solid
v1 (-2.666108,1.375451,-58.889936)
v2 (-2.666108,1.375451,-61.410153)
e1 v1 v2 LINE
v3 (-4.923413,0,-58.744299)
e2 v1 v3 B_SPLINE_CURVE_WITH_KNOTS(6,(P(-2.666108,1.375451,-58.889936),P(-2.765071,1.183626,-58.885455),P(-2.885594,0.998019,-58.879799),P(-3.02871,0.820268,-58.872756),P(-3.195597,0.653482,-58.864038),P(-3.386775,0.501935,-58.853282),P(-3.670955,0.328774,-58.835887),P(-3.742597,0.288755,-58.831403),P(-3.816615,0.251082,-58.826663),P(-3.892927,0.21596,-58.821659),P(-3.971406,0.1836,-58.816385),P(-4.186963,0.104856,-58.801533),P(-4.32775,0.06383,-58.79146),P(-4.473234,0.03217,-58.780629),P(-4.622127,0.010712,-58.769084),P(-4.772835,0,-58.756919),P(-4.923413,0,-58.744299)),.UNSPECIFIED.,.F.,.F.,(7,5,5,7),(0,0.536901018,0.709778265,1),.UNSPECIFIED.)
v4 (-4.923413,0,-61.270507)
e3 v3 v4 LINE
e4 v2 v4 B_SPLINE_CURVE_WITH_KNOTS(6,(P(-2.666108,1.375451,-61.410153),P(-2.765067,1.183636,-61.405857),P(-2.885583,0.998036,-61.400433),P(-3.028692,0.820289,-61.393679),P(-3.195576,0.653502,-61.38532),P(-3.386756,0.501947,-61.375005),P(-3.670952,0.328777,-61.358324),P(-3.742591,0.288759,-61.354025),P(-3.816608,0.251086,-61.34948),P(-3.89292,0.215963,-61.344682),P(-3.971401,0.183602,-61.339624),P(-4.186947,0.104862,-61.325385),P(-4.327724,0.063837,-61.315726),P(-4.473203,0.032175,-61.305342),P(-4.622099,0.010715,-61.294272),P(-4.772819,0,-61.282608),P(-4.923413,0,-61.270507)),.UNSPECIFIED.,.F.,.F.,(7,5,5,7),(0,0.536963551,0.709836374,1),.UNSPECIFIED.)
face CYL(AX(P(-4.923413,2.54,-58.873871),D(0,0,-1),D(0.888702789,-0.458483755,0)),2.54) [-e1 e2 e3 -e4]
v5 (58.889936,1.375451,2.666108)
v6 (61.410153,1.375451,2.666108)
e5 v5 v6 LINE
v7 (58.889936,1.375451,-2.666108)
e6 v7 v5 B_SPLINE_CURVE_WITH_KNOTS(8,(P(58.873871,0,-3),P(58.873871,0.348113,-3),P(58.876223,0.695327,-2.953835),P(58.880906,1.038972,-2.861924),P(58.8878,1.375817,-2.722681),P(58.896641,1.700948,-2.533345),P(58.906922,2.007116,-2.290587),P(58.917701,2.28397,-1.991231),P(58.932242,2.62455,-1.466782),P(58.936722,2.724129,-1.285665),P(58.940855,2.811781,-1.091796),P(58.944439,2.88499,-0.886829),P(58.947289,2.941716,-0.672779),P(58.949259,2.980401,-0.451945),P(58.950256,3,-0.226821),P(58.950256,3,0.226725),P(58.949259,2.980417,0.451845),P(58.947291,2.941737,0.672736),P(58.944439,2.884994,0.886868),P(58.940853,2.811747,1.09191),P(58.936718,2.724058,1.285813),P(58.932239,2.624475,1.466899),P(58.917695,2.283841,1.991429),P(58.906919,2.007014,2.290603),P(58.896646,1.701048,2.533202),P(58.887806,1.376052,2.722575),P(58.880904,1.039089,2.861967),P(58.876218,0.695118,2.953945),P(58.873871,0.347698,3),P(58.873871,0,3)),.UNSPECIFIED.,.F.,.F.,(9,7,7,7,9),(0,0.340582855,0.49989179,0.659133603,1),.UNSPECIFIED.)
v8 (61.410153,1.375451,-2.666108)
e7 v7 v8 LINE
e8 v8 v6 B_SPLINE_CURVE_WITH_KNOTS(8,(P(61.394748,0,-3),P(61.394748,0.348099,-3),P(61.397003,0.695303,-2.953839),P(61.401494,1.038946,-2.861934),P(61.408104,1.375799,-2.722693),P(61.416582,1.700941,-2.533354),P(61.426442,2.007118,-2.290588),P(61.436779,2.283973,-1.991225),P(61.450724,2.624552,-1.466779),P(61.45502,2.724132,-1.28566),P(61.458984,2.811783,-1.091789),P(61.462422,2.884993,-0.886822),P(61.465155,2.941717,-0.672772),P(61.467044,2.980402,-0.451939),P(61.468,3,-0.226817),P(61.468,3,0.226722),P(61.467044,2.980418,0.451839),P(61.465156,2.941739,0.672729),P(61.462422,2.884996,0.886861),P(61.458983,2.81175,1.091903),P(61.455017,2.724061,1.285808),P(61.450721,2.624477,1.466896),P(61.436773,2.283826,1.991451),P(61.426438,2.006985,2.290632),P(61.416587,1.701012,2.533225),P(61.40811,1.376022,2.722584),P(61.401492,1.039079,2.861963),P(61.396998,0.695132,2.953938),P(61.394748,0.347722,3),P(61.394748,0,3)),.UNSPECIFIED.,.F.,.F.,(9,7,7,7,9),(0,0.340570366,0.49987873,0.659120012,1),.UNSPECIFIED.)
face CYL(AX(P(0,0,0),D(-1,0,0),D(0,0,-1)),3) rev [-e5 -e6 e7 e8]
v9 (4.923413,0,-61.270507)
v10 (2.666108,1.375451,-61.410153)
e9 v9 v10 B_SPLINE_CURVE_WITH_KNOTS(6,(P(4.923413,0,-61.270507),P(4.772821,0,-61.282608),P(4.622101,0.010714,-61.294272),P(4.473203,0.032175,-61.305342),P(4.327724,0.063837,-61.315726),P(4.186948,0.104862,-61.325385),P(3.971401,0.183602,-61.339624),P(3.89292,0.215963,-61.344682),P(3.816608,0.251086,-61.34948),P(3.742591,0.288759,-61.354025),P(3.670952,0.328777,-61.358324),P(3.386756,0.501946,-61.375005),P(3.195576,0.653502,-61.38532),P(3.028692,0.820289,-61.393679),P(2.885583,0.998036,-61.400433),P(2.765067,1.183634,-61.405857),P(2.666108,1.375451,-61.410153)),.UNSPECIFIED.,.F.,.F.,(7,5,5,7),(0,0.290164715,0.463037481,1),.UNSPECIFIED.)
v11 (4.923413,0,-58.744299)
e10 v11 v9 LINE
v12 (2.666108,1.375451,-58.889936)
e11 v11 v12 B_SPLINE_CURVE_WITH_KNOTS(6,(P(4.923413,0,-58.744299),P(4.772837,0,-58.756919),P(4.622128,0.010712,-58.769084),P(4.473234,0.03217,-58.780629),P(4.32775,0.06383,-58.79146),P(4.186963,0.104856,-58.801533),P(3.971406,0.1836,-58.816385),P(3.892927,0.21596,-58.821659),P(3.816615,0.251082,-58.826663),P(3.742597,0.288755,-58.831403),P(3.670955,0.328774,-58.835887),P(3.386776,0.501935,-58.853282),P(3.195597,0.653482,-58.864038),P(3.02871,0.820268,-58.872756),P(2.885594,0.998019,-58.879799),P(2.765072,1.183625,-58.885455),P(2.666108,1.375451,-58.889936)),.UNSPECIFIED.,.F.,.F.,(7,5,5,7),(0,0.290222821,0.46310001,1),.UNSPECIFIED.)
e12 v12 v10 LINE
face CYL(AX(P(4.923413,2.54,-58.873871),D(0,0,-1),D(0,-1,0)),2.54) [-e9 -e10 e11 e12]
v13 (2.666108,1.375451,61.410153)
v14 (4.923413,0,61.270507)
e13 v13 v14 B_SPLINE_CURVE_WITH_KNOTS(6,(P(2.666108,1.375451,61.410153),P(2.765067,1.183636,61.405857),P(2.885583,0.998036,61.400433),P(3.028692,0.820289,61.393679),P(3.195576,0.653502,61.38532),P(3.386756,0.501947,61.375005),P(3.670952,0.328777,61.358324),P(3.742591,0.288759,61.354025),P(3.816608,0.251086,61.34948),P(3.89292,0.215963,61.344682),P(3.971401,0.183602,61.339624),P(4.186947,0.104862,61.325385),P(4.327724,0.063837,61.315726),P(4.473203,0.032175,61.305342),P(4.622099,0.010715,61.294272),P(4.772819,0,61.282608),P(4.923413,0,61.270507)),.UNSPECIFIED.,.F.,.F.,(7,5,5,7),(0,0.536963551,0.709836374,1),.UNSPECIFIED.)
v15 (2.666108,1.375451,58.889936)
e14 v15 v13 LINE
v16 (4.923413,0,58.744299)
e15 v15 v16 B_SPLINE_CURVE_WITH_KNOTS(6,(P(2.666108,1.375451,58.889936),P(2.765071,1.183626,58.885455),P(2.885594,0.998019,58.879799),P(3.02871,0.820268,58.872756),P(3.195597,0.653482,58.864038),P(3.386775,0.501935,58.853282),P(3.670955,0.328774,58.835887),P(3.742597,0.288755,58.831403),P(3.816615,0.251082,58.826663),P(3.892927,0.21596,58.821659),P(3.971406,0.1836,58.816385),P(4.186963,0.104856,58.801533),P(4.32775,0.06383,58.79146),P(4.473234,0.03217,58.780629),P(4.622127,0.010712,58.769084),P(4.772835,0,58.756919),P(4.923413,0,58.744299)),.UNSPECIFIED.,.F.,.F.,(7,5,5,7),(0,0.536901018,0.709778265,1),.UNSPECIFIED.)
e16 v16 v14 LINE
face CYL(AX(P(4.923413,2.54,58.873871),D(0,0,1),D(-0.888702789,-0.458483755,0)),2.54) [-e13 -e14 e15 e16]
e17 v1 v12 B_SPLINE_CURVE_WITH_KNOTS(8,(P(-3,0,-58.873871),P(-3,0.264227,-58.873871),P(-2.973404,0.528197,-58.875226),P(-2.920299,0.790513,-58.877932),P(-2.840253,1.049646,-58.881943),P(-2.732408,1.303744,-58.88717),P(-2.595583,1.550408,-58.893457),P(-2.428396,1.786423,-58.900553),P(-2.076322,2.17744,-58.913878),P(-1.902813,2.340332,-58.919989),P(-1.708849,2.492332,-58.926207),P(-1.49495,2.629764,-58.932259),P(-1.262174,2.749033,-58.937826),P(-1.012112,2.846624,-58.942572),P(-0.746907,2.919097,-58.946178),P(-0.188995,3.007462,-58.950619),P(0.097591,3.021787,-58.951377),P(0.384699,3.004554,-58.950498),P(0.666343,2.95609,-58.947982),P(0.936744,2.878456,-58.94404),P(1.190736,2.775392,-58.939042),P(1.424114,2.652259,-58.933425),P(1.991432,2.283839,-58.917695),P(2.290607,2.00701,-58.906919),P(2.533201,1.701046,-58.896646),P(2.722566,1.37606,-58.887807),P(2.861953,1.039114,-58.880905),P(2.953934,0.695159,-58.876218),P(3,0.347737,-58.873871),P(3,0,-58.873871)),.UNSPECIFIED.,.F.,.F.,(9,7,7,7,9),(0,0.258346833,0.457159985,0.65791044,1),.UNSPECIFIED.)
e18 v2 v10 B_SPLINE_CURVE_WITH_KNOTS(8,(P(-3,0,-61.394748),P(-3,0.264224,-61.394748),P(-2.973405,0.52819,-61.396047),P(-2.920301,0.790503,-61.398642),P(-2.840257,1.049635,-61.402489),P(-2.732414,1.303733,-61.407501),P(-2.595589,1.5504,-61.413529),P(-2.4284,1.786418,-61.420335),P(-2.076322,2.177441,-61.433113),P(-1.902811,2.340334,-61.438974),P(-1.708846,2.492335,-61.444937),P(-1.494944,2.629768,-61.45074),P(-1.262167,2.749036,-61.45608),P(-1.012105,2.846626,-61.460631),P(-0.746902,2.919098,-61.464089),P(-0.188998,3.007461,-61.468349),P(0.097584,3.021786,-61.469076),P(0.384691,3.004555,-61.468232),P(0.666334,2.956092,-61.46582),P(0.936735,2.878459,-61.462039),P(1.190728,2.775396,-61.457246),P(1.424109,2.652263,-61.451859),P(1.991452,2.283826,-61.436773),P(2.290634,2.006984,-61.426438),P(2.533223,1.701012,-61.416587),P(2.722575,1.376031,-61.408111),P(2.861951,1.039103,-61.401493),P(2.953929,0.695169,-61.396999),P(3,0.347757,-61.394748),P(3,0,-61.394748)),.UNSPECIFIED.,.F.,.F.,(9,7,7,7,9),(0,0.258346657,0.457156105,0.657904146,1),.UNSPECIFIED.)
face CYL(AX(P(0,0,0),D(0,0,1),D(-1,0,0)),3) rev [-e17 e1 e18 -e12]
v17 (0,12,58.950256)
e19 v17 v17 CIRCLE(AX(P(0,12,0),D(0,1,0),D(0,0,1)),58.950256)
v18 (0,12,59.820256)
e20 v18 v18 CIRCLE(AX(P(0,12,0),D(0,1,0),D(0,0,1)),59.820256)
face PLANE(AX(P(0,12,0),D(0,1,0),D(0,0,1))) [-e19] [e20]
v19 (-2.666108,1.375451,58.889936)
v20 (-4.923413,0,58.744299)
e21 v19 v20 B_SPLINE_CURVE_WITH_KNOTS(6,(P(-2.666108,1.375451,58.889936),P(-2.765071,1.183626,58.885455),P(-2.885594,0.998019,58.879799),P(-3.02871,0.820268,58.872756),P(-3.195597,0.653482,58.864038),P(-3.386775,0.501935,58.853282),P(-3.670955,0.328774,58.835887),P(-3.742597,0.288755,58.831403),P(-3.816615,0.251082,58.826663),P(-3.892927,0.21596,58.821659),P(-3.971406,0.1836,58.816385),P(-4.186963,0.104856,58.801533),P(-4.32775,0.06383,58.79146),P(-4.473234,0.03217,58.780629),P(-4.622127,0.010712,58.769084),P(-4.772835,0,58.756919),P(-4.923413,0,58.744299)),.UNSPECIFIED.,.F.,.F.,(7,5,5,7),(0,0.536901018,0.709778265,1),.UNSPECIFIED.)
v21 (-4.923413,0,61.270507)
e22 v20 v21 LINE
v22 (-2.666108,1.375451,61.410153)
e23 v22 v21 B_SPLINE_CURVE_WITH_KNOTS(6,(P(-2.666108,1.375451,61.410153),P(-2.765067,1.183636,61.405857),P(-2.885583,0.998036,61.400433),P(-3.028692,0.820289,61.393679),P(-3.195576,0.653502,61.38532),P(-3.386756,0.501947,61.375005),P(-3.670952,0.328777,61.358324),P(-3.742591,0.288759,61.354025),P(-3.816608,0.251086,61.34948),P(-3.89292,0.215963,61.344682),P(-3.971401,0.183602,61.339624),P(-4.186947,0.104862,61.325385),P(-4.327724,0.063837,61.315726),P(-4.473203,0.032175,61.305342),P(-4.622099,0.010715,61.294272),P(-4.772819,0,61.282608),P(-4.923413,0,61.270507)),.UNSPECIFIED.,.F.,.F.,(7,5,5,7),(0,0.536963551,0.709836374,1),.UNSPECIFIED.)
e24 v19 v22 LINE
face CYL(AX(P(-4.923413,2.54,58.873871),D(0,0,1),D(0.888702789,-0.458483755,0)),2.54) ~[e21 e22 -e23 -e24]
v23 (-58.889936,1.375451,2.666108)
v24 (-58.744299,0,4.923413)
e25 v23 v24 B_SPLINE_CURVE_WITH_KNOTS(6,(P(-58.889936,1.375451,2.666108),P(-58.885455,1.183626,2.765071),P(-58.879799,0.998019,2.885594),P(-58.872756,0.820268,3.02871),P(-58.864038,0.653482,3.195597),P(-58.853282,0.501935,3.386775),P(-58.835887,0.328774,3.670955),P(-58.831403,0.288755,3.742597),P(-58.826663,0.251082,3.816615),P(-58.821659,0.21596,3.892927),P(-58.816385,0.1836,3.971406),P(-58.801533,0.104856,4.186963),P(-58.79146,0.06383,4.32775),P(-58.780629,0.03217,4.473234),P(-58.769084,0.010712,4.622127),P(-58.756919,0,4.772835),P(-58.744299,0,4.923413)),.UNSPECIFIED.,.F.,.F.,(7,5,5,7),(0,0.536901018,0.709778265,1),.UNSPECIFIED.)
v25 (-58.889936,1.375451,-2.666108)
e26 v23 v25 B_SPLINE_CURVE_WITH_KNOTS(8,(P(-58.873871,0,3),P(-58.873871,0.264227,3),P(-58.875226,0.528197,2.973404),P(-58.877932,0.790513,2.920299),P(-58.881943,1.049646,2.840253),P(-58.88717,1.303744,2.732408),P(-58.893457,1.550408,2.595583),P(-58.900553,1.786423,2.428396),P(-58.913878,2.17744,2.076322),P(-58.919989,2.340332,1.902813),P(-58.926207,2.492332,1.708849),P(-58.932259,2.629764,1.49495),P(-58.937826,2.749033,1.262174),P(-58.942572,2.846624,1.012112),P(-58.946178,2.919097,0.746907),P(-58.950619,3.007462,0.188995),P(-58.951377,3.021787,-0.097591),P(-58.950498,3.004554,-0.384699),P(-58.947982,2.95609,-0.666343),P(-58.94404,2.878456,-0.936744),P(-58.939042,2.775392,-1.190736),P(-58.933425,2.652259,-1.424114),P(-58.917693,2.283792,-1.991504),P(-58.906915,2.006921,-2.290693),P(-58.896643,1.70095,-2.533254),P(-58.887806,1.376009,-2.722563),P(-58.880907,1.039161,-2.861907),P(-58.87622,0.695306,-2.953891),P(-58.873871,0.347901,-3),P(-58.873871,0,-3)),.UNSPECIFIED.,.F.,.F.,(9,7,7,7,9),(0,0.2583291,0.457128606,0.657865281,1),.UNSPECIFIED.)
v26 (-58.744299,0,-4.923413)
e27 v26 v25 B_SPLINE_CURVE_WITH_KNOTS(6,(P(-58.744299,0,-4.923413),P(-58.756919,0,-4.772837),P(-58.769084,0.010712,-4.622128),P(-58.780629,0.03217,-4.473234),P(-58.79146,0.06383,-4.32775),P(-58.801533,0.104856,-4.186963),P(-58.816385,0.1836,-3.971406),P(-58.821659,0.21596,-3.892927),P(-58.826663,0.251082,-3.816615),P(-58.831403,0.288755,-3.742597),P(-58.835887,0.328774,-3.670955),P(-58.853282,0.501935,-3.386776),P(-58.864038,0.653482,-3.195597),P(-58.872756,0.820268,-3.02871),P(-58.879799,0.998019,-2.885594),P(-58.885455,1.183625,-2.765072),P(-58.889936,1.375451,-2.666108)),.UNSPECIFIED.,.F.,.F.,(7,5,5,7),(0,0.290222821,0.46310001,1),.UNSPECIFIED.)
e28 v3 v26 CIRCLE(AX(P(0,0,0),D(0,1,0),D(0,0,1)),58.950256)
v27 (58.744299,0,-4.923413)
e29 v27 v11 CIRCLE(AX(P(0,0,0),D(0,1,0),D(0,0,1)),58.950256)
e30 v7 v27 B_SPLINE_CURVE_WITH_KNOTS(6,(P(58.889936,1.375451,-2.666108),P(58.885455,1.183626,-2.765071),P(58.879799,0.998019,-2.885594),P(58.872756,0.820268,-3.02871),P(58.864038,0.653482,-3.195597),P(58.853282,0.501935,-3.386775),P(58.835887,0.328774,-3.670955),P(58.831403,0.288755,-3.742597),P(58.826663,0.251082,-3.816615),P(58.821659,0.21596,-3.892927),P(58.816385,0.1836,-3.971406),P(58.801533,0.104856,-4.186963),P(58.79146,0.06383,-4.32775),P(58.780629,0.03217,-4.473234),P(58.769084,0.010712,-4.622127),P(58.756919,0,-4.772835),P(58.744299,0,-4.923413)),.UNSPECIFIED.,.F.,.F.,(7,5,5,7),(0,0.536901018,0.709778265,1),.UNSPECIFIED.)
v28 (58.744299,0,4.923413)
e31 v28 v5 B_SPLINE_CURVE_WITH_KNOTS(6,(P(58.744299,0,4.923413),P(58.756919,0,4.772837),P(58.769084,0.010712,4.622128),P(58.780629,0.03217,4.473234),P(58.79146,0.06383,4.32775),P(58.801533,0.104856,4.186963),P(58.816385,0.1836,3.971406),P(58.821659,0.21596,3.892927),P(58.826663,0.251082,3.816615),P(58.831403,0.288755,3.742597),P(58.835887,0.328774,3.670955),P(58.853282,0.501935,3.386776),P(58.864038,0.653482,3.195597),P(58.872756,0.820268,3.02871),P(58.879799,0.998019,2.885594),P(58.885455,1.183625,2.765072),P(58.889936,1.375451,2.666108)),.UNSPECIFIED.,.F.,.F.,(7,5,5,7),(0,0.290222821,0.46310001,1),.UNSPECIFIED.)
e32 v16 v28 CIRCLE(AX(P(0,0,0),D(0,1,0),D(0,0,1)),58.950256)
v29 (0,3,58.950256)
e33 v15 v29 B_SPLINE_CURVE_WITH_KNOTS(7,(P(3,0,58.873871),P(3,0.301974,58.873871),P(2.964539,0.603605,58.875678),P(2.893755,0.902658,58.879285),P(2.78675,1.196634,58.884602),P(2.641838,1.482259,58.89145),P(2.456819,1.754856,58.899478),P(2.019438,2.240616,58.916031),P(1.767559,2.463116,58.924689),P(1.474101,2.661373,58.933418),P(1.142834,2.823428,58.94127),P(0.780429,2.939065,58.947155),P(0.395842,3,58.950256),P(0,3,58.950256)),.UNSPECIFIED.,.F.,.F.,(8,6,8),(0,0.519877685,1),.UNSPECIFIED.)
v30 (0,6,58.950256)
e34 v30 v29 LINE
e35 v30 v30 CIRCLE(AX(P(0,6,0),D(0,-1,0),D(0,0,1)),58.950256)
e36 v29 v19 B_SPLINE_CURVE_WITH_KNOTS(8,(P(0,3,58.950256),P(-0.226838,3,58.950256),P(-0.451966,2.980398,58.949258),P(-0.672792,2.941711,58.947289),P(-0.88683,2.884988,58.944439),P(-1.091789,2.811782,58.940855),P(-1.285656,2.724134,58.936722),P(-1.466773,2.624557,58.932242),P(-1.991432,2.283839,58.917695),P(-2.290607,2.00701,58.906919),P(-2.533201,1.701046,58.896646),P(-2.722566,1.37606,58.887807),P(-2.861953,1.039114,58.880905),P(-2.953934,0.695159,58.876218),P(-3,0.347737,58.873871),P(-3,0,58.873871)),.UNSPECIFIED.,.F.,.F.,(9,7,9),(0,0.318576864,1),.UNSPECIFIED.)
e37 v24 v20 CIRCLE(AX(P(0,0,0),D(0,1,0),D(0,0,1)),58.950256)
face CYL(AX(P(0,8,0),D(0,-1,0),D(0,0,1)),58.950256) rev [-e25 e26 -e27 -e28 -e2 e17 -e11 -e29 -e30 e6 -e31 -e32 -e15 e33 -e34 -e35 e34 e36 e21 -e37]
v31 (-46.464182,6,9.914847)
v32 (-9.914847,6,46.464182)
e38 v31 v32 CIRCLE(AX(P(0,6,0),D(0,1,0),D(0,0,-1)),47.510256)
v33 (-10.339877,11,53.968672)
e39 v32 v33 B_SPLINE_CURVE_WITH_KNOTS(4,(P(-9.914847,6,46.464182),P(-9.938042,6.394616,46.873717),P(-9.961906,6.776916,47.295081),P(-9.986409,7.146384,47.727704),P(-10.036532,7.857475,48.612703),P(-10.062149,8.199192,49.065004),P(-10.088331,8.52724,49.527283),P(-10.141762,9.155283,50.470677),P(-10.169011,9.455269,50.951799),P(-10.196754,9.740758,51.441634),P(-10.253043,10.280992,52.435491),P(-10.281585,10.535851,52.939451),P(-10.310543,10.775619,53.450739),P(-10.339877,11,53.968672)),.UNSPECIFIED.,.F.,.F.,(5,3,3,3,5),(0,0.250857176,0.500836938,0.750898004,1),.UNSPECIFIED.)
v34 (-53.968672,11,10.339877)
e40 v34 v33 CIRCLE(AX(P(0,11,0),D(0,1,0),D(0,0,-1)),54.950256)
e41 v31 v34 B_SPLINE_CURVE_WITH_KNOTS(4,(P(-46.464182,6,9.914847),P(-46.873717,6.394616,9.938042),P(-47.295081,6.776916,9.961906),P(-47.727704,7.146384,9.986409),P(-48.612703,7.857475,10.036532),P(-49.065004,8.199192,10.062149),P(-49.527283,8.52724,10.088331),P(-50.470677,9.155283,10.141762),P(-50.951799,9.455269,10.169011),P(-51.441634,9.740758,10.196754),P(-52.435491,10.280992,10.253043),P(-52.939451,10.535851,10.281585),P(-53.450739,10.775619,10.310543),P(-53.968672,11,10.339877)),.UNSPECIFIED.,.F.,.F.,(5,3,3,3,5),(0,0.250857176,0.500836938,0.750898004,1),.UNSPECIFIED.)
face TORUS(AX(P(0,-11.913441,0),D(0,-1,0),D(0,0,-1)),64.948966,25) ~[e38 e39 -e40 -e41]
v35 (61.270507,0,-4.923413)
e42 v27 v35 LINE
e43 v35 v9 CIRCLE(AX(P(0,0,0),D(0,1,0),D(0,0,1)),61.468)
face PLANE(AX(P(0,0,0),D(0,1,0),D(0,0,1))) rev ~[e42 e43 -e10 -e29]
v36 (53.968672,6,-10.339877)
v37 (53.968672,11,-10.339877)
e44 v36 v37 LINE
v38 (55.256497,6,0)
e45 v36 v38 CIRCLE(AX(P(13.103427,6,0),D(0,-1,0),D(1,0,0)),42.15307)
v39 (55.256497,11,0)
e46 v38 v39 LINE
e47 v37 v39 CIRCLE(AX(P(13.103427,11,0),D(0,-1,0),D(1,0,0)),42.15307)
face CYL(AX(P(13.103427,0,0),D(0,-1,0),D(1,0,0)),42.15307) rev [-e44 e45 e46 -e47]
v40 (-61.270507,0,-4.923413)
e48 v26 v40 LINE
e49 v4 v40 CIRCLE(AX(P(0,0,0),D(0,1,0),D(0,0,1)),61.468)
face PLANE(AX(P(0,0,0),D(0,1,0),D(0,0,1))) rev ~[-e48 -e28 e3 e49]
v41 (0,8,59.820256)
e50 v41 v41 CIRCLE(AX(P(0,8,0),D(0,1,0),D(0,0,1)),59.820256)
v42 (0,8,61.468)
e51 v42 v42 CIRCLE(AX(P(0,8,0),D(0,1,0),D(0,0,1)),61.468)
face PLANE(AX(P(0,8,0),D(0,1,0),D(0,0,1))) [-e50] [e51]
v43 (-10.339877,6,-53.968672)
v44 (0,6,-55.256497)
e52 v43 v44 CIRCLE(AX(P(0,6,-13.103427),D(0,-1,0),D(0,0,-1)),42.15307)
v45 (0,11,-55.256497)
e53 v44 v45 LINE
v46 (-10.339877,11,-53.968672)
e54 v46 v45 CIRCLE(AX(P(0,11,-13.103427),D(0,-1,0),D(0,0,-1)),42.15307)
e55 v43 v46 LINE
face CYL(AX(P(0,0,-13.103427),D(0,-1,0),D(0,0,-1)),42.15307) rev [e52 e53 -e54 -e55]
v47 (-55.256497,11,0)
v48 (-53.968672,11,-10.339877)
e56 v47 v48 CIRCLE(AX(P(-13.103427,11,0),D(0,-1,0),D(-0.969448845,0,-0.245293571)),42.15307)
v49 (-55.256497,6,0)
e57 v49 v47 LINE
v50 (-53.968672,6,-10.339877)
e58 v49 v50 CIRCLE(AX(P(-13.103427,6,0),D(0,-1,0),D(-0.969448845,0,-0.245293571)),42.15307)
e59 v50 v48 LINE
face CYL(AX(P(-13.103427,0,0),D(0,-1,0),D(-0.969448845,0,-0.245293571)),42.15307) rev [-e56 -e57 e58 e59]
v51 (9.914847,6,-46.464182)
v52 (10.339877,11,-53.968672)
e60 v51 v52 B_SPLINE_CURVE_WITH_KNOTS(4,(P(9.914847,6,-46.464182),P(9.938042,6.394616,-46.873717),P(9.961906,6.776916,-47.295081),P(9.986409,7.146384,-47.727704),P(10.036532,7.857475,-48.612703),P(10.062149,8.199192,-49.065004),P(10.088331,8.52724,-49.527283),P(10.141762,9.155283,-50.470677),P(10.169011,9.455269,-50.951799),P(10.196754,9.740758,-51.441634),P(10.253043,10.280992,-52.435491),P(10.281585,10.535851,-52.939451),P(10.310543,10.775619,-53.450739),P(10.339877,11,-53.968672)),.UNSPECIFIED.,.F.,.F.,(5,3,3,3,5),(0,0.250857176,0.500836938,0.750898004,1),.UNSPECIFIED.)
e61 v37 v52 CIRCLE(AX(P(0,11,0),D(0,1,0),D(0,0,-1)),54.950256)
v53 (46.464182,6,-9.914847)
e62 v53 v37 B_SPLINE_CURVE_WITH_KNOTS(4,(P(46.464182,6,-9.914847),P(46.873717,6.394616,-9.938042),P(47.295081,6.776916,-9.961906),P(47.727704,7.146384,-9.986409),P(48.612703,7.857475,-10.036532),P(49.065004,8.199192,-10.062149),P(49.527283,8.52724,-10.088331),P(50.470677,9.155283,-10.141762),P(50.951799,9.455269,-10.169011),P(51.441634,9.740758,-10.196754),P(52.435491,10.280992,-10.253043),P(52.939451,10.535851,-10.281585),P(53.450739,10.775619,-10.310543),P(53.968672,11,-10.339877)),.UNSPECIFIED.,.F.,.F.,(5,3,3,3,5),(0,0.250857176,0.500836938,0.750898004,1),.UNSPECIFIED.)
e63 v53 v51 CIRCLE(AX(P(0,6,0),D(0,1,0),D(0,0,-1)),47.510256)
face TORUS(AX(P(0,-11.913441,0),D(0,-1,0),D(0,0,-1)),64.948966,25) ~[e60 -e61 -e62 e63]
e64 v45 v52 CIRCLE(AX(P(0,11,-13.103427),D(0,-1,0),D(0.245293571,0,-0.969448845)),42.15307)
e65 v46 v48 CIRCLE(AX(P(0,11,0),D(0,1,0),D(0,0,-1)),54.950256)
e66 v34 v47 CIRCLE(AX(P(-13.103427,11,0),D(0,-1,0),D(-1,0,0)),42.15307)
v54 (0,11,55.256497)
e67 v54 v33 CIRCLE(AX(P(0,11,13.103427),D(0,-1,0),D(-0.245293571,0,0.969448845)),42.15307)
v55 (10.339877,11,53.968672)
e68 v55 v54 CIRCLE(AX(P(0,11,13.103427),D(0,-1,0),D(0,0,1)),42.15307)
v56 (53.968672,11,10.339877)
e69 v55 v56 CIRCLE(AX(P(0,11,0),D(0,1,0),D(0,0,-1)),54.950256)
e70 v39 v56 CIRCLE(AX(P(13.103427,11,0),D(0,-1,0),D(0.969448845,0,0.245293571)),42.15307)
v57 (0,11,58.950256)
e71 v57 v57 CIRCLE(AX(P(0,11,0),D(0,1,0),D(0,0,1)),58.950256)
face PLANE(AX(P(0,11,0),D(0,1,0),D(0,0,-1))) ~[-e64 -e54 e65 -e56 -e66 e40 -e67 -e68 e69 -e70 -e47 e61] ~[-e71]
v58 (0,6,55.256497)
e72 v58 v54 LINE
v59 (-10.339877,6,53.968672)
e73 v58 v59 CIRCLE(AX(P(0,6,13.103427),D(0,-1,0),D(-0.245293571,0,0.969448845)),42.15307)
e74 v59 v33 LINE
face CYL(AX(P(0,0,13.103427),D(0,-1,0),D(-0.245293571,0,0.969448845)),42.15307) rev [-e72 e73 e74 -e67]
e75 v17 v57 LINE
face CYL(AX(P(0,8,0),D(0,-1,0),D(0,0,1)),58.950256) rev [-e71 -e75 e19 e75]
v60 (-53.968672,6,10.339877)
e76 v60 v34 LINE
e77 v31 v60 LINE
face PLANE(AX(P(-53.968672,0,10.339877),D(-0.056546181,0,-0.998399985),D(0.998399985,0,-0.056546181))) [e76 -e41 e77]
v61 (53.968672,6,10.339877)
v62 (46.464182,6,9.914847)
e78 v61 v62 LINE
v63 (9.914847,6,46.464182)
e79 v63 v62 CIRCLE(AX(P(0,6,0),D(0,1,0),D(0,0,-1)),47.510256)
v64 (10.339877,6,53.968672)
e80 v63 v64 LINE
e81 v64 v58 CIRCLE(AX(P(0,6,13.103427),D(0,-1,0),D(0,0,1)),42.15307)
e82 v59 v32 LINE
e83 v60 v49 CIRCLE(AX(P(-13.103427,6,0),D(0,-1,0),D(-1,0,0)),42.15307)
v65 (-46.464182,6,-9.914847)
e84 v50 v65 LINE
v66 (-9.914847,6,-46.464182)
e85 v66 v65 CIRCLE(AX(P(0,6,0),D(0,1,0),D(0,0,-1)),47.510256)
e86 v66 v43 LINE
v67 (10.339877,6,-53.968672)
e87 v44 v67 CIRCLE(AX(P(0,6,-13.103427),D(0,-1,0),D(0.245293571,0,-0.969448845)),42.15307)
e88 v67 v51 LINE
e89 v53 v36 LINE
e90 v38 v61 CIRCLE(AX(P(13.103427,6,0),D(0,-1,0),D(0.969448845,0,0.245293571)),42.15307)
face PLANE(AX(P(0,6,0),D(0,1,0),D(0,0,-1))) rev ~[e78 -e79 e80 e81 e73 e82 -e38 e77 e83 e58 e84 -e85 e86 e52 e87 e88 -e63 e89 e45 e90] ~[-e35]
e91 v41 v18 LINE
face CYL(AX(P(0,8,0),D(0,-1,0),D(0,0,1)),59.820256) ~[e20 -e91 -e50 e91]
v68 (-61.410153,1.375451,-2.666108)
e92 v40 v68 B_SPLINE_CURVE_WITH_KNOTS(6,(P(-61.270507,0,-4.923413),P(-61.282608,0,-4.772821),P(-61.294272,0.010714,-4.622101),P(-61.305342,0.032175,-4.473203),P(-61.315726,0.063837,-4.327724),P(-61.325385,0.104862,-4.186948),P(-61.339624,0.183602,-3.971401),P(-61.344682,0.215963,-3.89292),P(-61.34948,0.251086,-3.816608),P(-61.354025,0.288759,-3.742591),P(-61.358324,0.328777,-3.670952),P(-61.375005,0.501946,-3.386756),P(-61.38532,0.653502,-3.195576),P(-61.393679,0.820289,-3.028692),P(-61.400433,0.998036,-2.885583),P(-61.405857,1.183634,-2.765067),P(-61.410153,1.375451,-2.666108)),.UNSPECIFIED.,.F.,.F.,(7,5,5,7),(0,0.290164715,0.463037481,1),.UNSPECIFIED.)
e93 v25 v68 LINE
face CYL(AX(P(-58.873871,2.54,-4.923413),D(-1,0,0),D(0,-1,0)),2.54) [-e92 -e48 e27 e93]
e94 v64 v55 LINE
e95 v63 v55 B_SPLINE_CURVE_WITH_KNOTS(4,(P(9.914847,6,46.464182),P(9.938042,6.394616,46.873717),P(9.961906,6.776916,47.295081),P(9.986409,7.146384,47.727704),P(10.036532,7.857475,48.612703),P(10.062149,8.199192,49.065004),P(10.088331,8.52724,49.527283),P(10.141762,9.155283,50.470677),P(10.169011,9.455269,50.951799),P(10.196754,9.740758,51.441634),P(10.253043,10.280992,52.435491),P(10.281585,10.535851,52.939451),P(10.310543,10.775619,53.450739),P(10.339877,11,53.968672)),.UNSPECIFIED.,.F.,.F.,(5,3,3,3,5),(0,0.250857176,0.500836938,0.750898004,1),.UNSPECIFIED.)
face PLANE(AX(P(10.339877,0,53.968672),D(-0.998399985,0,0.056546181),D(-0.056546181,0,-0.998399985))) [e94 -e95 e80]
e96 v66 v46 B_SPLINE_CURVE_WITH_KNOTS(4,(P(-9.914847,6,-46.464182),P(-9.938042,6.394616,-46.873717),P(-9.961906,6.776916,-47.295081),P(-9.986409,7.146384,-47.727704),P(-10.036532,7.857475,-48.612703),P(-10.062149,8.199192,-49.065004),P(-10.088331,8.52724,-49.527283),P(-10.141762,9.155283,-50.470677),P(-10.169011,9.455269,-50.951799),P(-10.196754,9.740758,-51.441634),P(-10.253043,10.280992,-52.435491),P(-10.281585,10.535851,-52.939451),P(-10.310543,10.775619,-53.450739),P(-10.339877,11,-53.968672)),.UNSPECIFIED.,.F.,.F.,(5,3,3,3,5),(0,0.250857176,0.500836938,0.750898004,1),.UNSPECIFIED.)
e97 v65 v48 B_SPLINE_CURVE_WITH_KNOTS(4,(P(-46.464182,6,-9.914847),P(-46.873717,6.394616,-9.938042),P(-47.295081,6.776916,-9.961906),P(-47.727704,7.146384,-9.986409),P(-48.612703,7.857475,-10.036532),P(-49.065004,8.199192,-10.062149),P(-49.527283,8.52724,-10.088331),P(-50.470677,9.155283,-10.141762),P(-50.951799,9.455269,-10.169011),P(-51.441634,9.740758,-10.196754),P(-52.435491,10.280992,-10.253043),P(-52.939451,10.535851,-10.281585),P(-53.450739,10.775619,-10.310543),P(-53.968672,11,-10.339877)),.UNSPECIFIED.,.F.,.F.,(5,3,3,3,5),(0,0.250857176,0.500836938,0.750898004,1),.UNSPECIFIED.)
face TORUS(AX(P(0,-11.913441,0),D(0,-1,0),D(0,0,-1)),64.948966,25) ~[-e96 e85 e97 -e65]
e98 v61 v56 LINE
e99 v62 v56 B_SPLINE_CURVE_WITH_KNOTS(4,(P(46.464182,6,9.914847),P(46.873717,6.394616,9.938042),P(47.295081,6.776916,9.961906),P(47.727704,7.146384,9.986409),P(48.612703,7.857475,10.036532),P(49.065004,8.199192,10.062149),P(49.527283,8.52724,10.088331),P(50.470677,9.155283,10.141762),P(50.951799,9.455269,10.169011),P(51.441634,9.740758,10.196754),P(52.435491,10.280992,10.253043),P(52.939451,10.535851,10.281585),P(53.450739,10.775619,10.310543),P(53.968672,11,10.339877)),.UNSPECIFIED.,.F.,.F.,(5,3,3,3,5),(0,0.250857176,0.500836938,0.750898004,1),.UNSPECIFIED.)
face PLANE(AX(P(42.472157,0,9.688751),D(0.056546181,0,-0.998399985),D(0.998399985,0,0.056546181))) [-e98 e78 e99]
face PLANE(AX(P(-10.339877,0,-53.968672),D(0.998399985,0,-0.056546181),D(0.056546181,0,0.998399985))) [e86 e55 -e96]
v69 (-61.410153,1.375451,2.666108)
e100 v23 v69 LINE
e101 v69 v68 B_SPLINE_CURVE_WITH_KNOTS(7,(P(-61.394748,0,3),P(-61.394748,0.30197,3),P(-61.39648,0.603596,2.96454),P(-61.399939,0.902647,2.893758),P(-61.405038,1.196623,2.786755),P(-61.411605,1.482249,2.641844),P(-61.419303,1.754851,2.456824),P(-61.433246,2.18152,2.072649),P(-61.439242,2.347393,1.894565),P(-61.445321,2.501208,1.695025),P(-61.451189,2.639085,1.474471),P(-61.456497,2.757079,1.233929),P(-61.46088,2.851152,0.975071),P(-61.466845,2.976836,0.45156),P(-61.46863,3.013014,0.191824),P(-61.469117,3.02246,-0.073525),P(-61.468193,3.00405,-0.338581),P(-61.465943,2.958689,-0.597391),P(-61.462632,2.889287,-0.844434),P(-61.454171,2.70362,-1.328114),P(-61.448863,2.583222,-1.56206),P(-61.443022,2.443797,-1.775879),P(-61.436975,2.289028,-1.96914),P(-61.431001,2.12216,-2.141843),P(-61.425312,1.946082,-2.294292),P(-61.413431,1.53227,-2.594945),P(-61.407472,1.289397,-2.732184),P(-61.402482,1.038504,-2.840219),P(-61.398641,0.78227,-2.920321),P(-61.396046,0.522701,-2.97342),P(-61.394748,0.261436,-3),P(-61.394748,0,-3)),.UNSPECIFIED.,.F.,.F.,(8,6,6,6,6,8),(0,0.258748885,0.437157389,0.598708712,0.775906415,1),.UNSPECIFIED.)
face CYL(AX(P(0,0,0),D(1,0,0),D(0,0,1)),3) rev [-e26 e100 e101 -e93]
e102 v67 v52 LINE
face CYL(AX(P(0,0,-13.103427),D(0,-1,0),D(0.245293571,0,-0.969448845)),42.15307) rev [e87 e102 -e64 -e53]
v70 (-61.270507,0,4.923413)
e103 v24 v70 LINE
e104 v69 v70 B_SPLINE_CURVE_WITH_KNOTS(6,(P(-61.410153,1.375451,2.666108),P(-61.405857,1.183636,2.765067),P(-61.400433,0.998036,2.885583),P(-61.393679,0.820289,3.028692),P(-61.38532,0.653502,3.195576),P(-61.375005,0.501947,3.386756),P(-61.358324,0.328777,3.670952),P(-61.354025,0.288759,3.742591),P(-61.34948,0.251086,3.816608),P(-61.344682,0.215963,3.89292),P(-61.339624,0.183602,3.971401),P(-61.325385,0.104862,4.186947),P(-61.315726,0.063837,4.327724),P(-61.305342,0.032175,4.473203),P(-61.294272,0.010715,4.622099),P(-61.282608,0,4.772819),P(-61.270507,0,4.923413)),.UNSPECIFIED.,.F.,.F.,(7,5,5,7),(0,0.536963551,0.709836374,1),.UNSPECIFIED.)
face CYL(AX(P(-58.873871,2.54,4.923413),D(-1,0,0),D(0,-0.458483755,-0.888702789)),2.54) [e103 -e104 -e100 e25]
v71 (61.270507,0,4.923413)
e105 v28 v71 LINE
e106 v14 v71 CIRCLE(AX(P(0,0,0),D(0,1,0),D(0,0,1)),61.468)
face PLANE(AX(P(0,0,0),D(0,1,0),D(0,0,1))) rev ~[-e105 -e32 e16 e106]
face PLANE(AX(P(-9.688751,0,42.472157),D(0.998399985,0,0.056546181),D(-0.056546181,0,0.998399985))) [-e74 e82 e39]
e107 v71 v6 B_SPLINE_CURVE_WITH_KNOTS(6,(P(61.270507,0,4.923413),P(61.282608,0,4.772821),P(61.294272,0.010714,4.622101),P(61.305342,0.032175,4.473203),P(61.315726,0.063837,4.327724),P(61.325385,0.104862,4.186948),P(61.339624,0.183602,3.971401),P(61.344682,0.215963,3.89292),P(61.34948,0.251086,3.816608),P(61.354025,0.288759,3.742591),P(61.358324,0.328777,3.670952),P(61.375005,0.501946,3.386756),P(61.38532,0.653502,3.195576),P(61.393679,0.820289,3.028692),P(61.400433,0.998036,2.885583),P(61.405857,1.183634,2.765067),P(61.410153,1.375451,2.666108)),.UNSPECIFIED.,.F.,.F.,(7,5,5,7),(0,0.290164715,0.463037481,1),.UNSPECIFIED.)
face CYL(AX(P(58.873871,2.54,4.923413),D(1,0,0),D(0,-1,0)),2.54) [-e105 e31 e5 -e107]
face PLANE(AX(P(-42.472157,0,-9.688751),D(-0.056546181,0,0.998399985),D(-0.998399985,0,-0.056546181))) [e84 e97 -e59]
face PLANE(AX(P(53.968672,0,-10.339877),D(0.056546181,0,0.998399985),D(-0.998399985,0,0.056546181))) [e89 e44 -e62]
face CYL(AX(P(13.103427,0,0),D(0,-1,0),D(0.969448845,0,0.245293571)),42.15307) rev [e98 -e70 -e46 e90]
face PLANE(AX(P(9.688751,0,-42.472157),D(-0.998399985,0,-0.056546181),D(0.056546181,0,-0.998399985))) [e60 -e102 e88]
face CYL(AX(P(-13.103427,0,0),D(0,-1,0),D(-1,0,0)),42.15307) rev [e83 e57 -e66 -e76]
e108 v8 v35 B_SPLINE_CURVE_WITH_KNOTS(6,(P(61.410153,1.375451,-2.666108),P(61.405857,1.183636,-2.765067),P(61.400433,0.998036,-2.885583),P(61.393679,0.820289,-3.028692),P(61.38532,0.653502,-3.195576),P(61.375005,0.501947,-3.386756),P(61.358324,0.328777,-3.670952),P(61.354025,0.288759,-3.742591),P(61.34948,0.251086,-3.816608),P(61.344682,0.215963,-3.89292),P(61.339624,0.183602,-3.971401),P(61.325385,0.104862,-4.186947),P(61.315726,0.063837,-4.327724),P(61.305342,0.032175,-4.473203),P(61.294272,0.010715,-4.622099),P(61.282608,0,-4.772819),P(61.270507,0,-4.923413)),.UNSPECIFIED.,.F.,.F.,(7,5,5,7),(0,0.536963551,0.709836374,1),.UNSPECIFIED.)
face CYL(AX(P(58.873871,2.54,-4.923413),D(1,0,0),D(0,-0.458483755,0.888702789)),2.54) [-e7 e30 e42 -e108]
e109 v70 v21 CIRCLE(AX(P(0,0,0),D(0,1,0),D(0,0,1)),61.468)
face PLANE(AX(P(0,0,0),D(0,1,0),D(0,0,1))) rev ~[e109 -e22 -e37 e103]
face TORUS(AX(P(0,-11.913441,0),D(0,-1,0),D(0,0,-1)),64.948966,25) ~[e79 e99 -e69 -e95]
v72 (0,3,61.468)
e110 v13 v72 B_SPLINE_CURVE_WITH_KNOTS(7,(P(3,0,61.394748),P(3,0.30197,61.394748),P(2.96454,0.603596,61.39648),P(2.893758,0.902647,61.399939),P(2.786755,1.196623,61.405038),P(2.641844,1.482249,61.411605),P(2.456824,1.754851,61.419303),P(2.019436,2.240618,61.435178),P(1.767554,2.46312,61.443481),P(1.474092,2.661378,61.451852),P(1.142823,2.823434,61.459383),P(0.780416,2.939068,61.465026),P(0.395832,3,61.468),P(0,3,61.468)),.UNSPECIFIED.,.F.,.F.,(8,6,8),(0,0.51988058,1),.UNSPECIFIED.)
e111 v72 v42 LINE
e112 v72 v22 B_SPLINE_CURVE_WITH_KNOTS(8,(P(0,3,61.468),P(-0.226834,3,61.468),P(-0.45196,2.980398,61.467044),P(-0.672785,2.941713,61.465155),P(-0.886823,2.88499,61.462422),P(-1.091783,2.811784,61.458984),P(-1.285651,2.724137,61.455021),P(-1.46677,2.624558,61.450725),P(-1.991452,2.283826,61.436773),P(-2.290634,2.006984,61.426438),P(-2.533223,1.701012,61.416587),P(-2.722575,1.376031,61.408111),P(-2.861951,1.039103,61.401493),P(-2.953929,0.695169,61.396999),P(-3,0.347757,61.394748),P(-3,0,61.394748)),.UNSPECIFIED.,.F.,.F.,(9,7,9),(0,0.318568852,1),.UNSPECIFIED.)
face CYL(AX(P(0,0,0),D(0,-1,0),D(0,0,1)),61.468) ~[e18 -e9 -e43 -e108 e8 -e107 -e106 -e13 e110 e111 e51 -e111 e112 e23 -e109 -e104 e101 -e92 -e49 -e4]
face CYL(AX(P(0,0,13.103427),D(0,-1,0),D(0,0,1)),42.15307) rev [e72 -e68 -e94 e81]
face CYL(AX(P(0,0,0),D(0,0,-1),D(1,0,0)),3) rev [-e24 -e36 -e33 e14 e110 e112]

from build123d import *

# Parameters (mm, degrees)
SKETCH3_R                = 61.468
SKETCH3_R_2              = 58.95025584
BOSS_EXTRUDE1_DEPTH      = 8
SKETCH7_R                = 59.82025584
SKETCH7_R_2              = 58.95025584
BOSS_EXTRUDE2_DEPTH      = 4
CUT_EXTRUDE1_DEPTH       = 88.753233832
FILLET1_R                = 2.54
CIRPATTERN1_COUNT        = 4
FILLET1_OF_CIRPATTERN1_R = 2.54
CUT_EXTRUDE4_DEPTH       = 88.753233984
CIRPATTERN3_COUNT        = 4


with BuildPart() as part:
    # Sketch3 → Boss-Extrude1 (new body)
    with BuildSketch(Plane(origin=(0, 0, 0), x_dir=(1, 0, 0), z_dir=(0, 1, 0))):
        with Locations(Location((0, 0, 0), (0, 0, 270))):
            Circle(SKETCH3_R)
        with Locations(Location((0, 0, 0), (0, 0, 270))):
            Circle(SKETCH3_R_2, mode=Mode.SUBTRACT)
    extrude(amount=BOSS_EXTRUDE1_DEPTH)

    # Sketch7 → Boss-Extrude2 (add)
    with BuildSketch(Plane(origin=(0, 8, 0), x_dir=(1, 0, 0), z_dir=(0, 1, 0))):
        with Locations(Location((0, 0, 0), (0, 0, 270))):
            Circle(SKETCH7_R)
        with Locations(Location((0, 0, 0), (0, 0, 270))):
            Circle(SKETCH7_R_2, mode=Mode.SUBTRACT)
    extrude(amount=BOSS_EXTRUDE2_DEPTH)

    # Sketch9 → Cut-Extrude1 (cut, through all)
    with BuildSketch(Plane.XY):
        with BuildLine():
            Line((0, 0), (3, 0))
            ThreePointArc((3, 0), (0, 3), (-3, 0))
            Line((-3, 0), (0, 0))
        make_face()
    cut_extrude1 = extrude(amount=CUT_EXTRUDE1_DEPTH, mode=Mode.SUBTRACT)

    # Fillet1
    fillet1_edges = [part.edges().sort_by_distance(p)[0] for p in [
        (3, 0, 60.134309167),
        (-3, 0, 60.134309167),
    ]]
    fillet(fillet1_edges, radius=FILLET1_R)

    # CirPattern1: Cut-Extrude1 ×4 about axis
    cirpattern1_axis = Axis((0, 8, 0), (0, 1, 0))
    for i in range(1, CIRPATTERN1_COUNT):
        add(cut_extrude1.rotate(cirpattern1_axis, i * 360 / CIRPATTERN1_COUNT), mode=Mode.SUBTRACT)

    # Fillet1 of CirPattern1
    fillet1_of_cirpattern1_edges = [part.edges().sort_by_distance(p)[0] for p in [
        (60.134309167, 0, -3),
        (60.134309167, 0, 3),
        (-3, 0, -60.134309167),
        (3, 0, -60.134309167),
        (-60.134309167, 0, 3),
        (-60.134309167, 0, -3),
    ]]
    fillet(fillet1_of_cirpattern1_edges, radius=FILLET1_OF_CIRPATTERN1_R)

    # Sketch10 → Revolve2 (revolve)
    with BuildSketch(Plane.XY, mode=Mode.PRIVATE) as revolve2_sk:
        with BuildLine():
            Line((-58.95025584, 6), (-47.51025584, 6))
            ThreePointArc((-47.51025584, 6), (-51.004325155, 8.83618486), (-54.95025584, 11))
            Line((-54.95025584, 11), (-58.95025584, 11))
            Line((-58.95025584, 11), (-58.95025584, 6))
        make_face()
    revolve(revolve2_sk.sketch.rotate(Axis((0, 0, 0), (0, 1, 0)), 270), axis=Axis((0, 0, 0), (0, 1, 0)))

    # Sketch13 → Cut-Extrude4 (cut, through all)
    with BuildSketch(Plane(origin=(0, 0, 0), x_dir=(1, 0, 0), z_dir=(0, 1, 0))):
        with BuildLine():
            ThreePointArc((-9.707144427, 42.796913747), (-4.982712156, 44.461503222), (0, 44.97501853))
            Line((0, 44.97501853), (0, 55.25649697))
            ThreePointArc((0, 55.25649697), (-5.209883661, 54.933301733), (-10.339877075, 53.968672014))
            Line((-10.339877075, 53.968672014), (-9.707144427, 42.796913747))
        make_face()
        with BuildLine():
            Line((0, 55.25649697), (0, 44.97501853))
            ThreePointArc((0, 44.97501853), (4.993665079, 44.301497693), (9.688751248, 42.472157075))
            Line((9.688751248, 42.472157075), (10.339877075, 53.968672014))
            ThreePointArc((10.339877075, 53.968672014), (5.209883661, 54.933301733), (0, 55.25649697))
        make_face()
    cut_extrude4 = extrude(amount=CUT_EXTRUDE4_DEPTH, mode=Mode.SUBTRACT)

    # CirPattern3: Cut-Extrude4 ×4 about axis
    cirpattern3_axis = Axis((0, 0, 0), (0, 1, 0))
    for i in range(1, CIRPATTERN3_COUNT):
        add(cut_extrude4.rotate(cirpattern3_axis, i * 360 / CIRPATTERN3_COUNT), mode=Mode.SUBTRACT)


solid = part.part
